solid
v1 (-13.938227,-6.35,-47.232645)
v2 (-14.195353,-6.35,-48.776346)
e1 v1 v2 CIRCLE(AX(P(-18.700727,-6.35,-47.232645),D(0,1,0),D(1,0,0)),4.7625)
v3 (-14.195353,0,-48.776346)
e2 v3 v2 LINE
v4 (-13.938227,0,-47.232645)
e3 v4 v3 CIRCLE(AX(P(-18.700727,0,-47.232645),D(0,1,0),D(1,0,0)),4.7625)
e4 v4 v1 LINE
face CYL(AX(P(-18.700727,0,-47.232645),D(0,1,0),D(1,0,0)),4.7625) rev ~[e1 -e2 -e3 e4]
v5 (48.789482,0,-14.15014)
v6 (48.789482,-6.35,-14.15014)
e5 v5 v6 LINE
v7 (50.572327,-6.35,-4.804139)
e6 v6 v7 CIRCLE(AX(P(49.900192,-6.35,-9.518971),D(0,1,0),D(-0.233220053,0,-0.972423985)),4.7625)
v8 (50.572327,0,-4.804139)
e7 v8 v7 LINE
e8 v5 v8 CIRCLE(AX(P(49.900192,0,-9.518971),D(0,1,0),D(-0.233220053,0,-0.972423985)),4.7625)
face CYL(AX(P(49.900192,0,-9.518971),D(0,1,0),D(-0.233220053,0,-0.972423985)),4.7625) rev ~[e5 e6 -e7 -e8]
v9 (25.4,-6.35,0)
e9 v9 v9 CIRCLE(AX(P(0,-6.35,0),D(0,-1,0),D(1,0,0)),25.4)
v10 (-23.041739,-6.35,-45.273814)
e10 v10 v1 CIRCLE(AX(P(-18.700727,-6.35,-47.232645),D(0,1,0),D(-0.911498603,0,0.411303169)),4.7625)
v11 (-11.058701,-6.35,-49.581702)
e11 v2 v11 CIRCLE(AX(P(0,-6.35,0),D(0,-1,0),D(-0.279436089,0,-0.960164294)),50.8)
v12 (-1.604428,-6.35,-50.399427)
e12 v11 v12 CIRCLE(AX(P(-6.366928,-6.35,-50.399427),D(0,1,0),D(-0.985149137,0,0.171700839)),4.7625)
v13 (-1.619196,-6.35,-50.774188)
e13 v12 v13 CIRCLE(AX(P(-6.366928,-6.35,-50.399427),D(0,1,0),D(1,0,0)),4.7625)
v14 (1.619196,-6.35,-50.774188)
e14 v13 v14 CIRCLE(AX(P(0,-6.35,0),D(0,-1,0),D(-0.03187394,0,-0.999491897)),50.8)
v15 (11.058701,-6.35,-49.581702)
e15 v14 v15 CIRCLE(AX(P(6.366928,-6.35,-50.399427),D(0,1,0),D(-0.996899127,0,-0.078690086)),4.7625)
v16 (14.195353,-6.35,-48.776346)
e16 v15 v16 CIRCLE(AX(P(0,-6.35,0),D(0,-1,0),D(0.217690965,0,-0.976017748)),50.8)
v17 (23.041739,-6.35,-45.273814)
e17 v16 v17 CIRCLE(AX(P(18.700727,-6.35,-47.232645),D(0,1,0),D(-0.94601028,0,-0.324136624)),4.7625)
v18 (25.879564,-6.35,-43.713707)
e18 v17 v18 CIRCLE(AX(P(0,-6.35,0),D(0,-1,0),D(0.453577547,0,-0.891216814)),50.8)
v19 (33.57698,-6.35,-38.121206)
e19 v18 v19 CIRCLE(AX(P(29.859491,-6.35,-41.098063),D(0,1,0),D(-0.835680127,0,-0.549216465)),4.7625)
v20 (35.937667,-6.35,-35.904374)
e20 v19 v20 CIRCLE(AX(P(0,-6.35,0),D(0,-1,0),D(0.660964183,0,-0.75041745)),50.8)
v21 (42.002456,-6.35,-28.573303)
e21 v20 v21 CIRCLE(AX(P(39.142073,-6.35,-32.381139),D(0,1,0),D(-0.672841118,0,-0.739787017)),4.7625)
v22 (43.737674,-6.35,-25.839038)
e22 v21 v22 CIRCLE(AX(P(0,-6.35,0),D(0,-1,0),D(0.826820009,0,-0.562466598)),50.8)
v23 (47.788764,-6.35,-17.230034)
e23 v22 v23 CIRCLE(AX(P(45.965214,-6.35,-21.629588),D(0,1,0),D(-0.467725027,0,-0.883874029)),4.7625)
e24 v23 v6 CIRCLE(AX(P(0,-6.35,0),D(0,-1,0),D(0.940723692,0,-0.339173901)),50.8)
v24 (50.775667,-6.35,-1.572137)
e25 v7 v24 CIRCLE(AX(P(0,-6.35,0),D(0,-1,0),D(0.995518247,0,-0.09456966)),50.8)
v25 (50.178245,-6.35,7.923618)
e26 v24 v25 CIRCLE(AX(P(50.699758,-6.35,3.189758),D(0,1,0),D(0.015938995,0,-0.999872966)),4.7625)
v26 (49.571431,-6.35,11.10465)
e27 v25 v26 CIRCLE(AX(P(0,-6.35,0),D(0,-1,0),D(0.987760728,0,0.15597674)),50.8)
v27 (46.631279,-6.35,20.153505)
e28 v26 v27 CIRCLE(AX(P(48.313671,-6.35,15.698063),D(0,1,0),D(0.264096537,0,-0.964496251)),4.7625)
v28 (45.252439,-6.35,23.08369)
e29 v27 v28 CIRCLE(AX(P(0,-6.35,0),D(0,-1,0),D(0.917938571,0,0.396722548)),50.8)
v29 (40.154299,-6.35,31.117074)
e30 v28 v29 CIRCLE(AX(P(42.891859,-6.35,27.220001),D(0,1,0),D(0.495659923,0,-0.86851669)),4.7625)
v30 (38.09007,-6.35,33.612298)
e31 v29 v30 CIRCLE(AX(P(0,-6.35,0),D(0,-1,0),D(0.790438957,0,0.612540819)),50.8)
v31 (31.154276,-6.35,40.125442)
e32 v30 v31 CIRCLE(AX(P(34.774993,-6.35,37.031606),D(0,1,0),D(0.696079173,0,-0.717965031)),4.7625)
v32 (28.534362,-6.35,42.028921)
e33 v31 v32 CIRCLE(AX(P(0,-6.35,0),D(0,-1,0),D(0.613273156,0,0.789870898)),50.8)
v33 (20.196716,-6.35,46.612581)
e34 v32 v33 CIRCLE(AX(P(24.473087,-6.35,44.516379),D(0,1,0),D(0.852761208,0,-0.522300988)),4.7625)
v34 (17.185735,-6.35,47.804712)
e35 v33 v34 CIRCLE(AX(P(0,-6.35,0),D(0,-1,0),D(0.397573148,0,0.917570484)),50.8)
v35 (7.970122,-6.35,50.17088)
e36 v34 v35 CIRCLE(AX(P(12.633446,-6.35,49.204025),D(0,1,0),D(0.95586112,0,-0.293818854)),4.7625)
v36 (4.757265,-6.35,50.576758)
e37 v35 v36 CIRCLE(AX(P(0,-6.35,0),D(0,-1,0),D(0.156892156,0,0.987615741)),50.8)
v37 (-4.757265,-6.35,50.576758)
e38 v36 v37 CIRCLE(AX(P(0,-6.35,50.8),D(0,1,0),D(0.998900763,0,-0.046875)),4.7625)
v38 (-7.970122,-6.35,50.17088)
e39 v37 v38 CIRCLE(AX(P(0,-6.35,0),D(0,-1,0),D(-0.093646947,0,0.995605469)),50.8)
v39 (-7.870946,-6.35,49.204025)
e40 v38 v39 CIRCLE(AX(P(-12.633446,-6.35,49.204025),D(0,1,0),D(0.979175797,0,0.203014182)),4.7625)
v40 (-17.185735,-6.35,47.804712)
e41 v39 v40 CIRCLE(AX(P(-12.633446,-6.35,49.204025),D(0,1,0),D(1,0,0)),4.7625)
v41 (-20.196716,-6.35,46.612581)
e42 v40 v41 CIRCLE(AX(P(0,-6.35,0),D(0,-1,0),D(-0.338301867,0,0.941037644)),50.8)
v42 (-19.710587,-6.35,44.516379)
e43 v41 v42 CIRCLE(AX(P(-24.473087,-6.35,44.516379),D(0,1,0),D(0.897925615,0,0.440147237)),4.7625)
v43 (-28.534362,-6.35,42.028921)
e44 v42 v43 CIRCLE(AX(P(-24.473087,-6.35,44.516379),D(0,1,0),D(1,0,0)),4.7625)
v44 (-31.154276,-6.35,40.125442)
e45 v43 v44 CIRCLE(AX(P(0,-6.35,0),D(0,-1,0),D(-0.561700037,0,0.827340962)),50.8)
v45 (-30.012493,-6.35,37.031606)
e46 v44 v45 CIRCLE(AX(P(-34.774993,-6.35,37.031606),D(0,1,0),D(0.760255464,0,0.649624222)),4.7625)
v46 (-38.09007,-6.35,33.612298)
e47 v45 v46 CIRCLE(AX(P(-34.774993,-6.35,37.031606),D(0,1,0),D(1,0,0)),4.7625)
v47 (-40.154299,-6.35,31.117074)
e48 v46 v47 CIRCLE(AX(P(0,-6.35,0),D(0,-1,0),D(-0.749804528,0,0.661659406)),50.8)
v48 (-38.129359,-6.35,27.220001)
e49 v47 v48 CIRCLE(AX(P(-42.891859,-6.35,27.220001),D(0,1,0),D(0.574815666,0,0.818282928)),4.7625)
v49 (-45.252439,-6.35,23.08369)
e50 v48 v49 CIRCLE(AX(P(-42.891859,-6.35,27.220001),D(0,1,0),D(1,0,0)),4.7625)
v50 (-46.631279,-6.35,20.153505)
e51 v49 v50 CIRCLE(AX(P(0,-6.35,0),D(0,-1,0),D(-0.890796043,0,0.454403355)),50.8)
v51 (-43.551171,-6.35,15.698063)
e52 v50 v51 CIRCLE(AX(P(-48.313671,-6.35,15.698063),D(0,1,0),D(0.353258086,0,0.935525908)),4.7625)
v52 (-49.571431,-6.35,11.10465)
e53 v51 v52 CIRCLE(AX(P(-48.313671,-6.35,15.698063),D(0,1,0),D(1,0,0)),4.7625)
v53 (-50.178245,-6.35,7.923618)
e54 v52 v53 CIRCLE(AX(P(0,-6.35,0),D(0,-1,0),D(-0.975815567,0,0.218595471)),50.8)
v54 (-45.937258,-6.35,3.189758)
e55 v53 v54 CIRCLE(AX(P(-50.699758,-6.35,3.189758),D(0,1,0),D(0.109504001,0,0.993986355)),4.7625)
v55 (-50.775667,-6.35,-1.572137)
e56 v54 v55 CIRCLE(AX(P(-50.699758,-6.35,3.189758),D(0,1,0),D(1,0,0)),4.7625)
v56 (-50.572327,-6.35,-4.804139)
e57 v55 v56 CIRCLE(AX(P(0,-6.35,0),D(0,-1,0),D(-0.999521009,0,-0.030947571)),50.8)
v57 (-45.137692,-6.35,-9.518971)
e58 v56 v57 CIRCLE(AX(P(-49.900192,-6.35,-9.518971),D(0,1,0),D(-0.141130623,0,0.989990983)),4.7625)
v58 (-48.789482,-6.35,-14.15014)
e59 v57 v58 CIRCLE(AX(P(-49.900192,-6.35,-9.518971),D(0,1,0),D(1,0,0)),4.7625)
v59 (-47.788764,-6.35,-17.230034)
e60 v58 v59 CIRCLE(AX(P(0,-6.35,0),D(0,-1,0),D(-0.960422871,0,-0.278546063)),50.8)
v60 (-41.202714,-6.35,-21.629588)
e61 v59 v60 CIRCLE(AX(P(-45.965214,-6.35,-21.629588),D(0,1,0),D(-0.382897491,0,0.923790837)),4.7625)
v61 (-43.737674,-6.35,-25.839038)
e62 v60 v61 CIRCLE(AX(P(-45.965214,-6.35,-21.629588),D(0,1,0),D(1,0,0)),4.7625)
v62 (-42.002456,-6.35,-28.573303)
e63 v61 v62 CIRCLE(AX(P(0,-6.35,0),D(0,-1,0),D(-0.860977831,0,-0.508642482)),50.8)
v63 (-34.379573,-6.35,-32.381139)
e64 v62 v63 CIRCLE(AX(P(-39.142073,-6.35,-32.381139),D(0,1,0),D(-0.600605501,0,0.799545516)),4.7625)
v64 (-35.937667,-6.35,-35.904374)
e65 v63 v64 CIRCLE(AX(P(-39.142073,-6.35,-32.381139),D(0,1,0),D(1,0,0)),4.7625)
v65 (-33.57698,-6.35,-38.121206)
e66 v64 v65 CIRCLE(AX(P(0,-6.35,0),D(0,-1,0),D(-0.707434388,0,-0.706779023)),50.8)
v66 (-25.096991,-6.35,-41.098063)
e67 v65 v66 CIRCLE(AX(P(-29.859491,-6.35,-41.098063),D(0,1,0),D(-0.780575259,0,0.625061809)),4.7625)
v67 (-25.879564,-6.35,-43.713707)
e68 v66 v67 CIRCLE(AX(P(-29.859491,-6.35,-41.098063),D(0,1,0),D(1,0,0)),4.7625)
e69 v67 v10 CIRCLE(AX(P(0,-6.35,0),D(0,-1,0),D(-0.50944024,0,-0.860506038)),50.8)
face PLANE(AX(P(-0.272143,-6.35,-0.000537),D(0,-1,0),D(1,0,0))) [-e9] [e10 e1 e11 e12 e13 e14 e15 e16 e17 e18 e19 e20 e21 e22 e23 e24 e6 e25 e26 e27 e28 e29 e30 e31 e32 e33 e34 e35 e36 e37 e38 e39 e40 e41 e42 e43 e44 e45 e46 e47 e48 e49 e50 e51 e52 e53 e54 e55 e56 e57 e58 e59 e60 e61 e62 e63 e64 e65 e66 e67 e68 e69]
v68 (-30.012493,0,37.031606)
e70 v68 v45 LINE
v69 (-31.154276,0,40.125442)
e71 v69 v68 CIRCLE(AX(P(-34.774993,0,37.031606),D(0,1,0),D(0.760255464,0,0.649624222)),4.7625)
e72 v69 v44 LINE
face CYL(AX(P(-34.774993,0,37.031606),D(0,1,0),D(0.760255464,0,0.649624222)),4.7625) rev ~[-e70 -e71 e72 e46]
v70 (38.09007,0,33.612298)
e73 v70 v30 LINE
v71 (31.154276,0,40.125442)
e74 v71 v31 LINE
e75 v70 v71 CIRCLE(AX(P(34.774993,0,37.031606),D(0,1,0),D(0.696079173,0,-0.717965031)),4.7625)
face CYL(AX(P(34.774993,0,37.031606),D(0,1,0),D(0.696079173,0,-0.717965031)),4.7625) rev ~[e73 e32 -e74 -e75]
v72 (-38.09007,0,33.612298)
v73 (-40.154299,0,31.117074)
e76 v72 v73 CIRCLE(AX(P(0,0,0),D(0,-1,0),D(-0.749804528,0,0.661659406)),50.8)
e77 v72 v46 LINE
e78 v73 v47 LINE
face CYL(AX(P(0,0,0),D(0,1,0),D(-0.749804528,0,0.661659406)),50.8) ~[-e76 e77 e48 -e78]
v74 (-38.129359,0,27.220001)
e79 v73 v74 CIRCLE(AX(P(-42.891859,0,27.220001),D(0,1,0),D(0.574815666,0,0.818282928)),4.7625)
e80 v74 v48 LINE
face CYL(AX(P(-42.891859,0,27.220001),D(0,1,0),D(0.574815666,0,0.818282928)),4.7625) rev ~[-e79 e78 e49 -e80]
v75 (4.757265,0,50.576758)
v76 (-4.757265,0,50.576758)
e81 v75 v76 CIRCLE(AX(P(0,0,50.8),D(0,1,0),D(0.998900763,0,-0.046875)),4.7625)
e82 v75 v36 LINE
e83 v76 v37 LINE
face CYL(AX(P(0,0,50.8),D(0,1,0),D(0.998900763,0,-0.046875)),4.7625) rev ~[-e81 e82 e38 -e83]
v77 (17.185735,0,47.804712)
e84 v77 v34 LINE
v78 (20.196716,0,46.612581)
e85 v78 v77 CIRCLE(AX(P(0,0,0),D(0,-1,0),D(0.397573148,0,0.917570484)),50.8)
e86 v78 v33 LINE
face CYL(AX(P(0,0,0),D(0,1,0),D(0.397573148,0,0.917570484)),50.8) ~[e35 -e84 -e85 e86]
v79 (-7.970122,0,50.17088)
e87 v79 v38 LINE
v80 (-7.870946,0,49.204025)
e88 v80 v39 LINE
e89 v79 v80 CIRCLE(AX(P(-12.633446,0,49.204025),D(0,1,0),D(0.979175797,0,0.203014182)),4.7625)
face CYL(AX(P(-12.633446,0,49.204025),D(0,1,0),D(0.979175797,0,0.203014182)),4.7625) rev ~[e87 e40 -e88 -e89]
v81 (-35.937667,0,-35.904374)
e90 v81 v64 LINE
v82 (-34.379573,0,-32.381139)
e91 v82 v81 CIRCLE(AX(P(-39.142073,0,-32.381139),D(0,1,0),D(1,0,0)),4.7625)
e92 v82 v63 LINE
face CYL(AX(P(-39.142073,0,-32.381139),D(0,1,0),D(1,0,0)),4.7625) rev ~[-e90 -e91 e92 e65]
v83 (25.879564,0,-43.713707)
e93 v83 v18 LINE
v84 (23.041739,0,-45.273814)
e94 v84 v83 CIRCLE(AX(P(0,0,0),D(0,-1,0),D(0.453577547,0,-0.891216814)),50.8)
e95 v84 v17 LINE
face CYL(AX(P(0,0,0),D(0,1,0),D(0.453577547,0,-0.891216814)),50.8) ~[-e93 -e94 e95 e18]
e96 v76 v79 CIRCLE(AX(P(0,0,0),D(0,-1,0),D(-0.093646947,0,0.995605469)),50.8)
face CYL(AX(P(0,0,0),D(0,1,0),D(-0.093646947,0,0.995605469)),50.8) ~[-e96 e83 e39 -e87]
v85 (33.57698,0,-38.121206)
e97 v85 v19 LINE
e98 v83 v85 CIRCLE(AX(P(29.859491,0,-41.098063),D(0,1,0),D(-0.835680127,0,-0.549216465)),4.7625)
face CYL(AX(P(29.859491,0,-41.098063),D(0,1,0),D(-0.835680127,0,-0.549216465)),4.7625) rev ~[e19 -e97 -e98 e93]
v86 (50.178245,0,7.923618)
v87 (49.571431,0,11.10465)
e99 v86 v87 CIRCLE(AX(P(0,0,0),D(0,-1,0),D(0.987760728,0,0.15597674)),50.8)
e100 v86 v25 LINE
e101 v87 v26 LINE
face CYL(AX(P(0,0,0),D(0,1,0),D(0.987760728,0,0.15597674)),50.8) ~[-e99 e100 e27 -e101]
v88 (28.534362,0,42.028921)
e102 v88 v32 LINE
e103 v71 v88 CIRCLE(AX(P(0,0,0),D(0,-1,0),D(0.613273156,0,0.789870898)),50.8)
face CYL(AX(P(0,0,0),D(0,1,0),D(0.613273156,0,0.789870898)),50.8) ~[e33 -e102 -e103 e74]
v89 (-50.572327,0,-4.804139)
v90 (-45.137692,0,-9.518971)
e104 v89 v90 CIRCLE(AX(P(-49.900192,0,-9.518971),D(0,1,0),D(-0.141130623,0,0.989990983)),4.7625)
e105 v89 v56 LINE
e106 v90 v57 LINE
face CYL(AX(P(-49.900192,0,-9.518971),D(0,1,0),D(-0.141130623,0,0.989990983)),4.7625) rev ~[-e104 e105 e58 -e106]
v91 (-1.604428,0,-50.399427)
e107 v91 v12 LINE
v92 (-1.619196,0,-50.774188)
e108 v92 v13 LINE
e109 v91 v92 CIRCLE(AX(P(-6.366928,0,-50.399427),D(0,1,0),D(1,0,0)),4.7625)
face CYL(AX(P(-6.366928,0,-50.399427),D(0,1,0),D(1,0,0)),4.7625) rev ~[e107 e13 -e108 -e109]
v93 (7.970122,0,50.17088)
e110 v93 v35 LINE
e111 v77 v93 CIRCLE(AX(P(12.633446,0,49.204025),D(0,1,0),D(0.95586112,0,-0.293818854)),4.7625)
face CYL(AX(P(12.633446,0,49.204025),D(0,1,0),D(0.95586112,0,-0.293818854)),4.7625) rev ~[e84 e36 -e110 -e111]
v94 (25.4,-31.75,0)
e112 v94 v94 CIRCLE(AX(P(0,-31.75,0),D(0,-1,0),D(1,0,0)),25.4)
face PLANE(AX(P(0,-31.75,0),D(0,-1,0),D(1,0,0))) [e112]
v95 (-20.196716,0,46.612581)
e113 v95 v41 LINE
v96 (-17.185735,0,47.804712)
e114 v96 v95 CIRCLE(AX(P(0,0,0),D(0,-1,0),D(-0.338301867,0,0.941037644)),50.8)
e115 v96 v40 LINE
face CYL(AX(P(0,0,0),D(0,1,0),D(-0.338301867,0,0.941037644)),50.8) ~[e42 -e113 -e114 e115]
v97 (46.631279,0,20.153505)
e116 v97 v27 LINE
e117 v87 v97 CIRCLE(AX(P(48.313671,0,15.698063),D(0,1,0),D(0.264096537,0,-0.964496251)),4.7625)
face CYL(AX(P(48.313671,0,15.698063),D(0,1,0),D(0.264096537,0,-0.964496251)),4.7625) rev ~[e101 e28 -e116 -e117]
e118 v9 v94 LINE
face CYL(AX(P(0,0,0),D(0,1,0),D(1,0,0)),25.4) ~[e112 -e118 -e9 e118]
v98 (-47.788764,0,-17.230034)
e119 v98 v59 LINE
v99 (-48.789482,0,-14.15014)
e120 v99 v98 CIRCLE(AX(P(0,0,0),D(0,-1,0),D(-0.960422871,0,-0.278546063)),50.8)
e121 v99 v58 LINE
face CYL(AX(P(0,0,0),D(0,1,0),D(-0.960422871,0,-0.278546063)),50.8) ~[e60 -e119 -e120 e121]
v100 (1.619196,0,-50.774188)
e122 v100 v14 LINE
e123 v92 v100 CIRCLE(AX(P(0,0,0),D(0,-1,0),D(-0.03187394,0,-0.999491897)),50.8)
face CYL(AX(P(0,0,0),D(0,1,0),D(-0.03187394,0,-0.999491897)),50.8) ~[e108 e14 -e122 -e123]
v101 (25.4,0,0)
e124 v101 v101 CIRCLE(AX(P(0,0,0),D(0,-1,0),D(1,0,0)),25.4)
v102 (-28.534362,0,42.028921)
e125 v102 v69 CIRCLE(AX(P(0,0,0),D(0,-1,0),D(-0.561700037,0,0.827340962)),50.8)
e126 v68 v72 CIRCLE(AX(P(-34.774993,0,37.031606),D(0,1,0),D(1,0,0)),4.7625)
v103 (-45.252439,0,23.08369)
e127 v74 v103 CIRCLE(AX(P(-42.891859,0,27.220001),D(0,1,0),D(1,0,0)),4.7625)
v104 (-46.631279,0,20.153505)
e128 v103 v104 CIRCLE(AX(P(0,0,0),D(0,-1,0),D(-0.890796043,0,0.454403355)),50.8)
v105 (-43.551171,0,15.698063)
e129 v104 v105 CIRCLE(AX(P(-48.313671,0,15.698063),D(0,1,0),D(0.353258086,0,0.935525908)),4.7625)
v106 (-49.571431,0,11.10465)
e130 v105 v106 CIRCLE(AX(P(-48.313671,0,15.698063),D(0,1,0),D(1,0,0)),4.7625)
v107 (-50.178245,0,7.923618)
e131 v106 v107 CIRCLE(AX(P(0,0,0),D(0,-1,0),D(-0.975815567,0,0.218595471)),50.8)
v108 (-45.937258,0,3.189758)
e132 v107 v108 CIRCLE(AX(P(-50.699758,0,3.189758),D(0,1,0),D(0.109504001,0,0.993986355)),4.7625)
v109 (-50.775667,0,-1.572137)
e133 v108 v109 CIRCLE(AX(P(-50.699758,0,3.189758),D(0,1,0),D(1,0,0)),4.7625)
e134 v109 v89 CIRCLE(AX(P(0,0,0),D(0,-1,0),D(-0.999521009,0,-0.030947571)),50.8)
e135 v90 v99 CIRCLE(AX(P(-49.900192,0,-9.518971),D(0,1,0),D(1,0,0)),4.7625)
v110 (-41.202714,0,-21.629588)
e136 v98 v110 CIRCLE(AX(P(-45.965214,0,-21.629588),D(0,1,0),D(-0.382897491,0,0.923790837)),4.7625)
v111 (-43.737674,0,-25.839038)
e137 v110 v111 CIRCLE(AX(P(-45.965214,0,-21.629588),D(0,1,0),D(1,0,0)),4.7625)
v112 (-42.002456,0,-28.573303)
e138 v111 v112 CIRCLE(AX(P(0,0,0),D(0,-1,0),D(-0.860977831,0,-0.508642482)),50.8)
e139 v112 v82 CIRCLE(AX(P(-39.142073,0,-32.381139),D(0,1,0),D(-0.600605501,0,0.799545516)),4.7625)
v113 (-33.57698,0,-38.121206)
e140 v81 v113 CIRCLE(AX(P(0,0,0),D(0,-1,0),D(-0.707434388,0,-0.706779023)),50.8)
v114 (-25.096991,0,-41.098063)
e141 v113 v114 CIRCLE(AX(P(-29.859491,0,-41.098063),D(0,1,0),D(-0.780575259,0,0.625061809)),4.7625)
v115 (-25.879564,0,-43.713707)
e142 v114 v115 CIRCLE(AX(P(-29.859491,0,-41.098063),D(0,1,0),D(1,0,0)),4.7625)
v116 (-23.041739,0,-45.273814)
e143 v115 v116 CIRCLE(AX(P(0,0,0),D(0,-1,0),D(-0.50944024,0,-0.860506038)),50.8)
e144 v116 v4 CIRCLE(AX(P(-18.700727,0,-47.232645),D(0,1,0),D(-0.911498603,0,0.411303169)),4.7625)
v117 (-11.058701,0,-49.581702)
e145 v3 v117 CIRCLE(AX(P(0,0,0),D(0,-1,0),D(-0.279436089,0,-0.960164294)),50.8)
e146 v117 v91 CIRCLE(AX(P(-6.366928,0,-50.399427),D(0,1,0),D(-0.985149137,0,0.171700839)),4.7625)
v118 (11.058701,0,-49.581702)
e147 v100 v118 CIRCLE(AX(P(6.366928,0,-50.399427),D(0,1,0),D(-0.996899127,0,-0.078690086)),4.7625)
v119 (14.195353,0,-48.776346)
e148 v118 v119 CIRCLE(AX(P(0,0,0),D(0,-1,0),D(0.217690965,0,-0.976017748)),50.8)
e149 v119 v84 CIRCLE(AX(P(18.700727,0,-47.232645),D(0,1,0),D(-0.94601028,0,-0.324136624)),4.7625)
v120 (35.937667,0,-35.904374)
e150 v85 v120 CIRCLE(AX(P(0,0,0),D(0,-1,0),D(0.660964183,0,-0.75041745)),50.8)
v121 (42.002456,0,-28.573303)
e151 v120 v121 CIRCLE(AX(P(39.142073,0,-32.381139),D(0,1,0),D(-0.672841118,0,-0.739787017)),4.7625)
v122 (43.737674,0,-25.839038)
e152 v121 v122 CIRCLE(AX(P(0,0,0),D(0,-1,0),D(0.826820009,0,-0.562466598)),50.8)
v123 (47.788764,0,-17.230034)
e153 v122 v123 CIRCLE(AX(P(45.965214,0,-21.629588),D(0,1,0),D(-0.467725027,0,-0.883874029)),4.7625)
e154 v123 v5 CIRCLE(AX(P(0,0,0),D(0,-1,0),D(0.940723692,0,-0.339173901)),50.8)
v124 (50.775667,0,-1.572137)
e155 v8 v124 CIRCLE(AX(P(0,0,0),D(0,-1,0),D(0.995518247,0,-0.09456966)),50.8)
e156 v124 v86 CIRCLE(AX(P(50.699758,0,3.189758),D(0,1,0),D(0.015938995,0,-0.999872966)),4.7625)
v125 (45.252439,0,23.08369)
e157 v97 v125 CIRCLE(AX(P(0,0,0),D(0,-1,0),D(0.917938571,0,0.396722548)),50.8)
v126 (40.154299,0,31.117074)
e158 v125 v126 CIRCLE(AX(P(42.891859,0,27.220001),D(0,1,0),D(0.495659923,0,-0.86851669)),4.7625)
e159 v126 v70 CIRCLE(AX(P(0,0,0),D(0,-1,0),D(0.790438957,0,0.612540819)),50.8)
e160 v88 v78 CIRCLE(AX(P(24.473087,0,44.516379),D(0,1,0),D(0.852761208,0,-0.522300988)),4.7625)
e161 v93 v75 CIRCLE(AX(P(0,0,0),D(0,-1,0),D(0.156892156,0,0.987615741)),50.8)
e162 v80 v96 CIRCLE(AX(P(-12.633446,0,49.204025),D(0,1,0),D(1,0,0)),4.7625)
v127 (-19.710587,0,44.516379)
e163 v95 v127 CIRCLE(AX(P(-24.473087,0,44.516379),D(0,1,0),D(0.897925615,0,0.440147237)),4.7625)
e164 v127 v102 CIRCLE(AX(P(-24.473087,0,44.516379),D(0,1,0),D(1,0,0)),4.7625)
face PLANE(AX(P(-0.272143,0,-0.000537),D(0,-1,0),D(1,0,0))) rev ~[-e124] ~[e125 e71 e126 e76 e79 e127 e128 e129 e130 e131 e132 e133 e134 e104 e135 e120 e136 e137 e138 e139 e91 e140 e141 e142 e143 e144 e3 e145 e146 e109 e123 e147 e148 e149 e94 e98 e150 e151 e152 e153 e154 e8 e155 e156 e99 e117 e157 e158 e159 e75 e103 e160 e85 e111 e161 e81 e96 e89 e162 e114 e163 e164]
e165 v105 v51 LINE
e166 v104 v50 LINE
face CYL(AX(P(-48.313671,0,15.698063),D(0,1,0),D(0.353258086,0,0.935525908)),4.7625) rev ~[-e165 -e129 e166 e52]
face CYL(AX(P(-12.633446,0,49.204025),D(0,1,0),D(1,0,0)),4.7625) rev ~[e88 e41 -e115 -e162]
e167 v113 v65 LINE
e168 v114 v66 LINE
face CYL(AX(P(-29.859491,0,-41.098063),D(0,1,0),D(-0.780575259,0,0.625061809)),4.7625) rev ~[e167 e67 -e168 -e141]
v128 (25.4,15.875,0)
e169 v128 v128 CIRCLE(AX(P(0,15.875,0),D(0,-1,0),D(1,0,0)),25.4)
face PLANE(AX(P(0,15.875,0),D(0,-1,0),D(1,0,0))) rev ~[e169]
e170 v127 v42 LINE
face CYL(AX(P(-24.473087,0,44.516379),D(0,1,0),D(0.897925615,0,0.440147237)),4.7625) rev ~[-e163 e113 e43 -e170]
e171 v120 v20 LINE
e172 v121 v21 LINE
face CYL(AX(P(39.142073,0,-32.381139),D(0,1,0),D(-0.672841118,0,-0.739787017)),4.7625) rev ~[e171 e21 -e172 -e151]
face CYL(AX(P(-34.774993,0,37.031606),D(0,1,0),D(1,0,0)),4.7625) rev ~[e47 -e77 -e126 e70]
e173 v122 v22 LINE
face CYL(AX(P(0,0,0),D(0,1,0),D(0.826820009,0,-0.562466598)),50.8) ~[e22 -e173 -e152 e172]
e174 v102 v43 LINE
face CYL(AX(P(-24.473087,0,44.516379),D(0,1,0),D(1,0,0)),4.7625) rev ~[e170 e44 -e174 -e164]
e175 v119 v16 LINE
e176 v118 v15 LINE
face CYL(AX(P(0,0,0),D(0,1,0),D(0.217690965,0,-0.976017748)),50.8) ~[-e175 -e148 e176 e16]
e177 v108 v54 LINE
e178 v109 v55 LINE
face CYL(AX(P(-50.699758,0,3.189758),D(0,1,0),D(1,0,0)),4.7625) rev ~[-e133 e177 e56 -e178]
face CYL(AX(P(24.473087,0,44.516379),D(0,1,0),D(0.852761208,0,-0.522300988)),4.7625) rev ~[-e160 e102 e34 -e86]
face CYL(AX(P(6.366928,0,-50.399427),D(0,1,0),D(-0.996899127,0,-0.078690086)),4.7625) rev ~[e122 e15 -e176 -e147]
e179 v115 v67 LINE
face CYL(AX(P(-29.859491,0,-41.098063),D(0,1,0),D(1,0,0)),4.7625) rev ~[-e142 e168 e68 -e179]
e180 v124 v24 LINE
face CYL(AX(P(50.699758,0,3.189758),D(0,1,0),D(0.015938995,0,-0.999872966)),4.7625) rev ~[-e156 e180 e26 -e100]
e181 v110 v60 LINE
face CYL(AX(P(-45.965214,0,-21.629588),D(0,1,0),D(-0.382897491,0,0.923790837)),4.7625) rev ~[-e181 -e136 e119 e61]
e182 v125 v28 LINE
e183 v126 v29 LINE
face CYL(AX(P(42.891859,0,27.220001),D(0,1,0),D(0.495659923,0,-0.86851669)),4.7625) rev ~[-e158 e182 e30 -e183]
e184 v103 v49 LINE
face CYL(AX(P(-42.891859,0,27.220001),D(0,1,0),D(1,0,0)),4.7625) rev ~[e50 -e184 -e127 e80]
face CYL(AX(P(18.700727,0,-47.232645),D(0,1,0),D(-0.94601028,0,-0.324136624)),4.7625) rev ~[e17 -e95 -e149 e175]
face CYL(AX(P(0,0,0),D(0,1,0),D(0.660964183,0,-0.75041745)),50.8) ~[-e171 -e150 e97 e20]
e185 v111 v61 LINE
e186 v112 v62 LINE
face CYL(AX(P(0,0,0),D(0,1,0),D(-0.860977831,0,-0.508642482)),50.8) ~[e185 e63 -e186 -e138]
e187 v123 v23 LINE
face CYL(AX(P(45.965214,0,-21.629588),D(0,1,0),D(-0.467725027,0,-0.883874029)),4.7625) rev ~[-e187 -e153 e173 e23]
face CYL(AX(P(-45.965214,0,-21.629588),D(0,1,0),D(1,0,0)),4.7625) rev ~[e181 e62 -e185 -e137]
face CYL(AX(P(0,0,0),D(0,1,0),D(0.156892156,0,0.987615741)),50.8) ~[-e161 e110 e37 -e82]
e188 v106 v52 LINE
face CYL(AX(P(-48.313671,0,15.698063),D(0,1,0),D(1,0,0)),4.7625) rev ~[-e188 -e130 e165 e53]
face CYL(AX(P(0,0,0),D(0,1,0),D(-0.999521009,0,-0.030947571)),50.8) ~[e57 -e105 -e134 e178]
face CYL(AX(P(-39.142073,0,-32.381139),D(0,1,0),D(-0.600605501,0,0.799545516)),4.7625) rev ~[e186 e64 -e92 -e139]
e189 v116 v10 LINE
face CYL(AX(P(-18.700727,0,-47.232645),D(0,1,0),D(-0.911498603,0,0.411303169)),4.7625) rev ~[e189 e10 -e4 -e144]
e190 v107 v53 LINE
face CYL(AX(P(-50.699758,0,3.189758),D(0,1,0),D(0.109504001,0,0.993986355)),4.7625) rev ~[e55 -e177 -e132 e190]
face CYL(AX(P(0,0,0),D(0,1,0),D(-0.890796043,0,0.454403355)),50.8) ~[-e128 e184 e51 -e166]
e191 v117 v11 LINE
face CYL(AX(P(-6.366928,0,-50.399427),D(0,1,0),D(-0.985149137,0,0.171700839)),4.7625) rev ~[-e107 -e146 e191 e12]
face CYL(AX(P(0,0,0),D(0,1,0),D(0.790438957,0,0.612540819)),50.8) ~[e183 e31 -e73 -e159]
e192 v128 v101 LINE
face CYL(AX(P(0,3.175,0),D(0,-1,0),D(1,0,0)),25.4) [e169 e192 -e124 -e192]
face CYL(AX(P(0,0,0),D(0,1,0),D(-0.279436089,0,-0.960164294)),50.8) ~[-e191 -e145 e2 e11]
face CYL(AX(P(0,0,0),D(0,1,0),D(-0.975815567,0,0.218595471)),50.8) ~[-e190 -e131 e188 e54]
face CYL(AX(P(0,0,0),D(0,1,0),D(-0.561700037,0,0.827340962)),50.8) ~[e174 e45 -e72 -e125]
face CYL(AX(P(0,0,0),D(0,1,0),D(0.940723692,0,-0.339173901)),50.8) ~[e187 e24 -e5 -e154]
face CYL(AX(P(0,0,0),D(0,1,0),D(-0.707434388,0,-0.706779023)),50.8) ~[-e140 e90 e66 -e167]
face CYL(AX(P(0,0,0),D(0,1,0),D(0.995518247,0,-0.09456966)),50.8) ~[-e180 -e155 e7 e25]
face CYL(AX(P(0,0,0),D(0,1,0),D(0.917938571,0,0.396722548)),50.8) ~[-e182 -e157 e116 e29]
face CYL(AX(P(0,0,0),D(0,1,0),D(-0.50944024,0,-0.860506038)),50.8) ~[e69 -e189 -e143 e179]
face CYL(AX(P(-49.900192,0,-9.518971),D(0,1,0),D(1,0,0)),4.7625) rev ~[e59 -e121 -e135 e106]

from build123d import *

# Parameters (mm, degrees)
F0_R          = 25.4
F1_DEPTH      = 6.35
F2_DEPTH      = 31.75
F2_DEPTH_BACK = 3.175
F3_DEPTH      = 12.7


with BuildPart() as f1:
    # F0 (on Front) → F1 (new body)
    with BuildSketch(Plane.XZ):
        with BuildLine():
            ThreePointArc((50.7756672677, -1.5721366092), (45.94665551, 2.8907185428), (50.1782450005, 7.9236184075))
            ThreePointArc((50.1782450005, 7.9236184075), (49.900192337, 9.518970781), (49.5714307865, 11.1046499169))
            ThreePointArc((49.5714307865, 11.1046499169), (43.7842643689, 14.2263698785), (46.6312793948, 20.153505452))
            ThreePointArc((46.6312793948, 20.153505452), (45.9652142653, 21.6295880115), (45.2524389981, 23.0836904486))
            ThreePointArc((45.2524389981, 23.0836904486), (38.8707468703, 24.6681260738), (40.1542990068, 31.1170736296))
            ThreePointArc((40.1542990068, 31.1170736296), (39.142072733, 32.3811386792), (38.0900700405, 33.6122978136))
            ThreePointArc((38.0900700405, 33.6122978136), (31.5148373892, 33.5598931849), (31.1542763351, 40.1254416304))
            ThreePointArc((31.1542763351, 40.1254416304), (29.8594908165, 41.0980633142), (28.5343618968, 42.0289208896))
            ThreePointArc((28.5343618968, 42.0289208896), (22.1787347715, 40.3429687825), (20.1967159038, 46.6125805626))
            ThreePointArc((20.1967159038, 46.6125805626), (18.7007272764, 47.2326454831), (17.1857348531, 47.8047122945))
            ThreePointArc((17.1857348531, 47.8047122945), (11.4490606804, 44.5911472805), (7.970121534, 50.1708796289))
            ThreePointArc((7.970121534, 50.1708796289), (6.3669282651, 50.3994268268), (4.7572648839, 50.5767578125))
            ThreePointArc((4.7572648839, 50.5767578125), (0, 46.0375), (-4.7572648839, 50.5767578125))
            ThreePointArc((-4.7572648839, 50.5767578125), (-6.3669282651, 50.3994268268), (-7.970121534, 50.1708796289))
            ThreePointArc((-7.970121534, 50.1708796289), (-7.8958049616, 49.6899886809), (-7.870946268, 49.2040245853))
            ThreePointArc((-7.870946268, 49.2040245853), (-11.9259394259, 44.4943706364), (-17.1857348531, 47.8047122945))
            ThreePointArc((-17.1857348531, 47.8047122945), (-18.7007272764, 47.2326454831), (-20.1967159038, 46.6125805626))
            ThreePointArc((-20.1967159038, 46.6125805626), (-19.8337105062, 45.5922953741), (-19.7105866444, 44.5163793462))
            ThreePointArc((-19.7105866444, 44.5163793462), (-23.1808825467, 39.9325365457), (-28.5343618968, 42.0289208896))
            ThreePointArc((-28.5343618968, 42.0289208896), (-29.8594908165, 41.0980633142), (-31.1542763351, 40.1254416304))
            ThreePointArc((-31.1542763351, 40.1254416304), (-30.3070477444, 38.6805063948), (-30.0124929812, 37.031606273))
            ThreePointArc((-30.0124929812, 37.031606273), (-32.9184704584, 32.6458645601), (-38.0900700405, 33.6122978136))
            ThreePointArc((-38.0900700405, 33.6122978136), (-39.142072733, 32.3811386792), (-40.1542990068, 31.1170736296))
            ThreePointArc((-40.1542990068, 31.1170736296), (-38.6658064456, 29.4158812606), (-38.1293586155, 27.2200011849))
            ThreePointArc((-38.1293586155, 27.2200011849), (-40.5002961369, 23.1015263263), (-45.2524389981, 23.0836904486))
            ThreePointArc((-45.2524389981, 23.0836904486), (-45.9652142653, 21.6295880115), (-46.6312793948, 20.153505452))
            ThreePointArc((-46.6312793948, 20.153505452), (-44.3961592919, 18.4062930033), (-43.5511710278, 15.6980633142))
            ThreePointArc((-43.5511710278, 15.6980633142), (-45.4247849623, 11.9118061187), (-49.5714307865, 11.1046499169))
            ThreePointArc((-49.5714307865, 11.1046499169), (-49.900192337, 9.518970781), (-50.1782450005, 7.9236184075))
            ThreePointArc((-50.1782450005, 7.9236184075), (-47.1525680025, 6.3676272946), (-45.9372578042, 3.1897583921))
            ThreePointArc((-45.9372578042, 3.1897583921), (-47.3591076107, -0.2045696025), (-50.7756672677, -1.5721366092))
            ThreePointArc((-50.7756672677, -1.5721366092), (-50.6997578042, -3.1897583921), (-50.5723269302, -4.8041387226))
            ThreePointArc((-50.5723269302, -4.8041387226), (-46.7792657719, -5.9215795561), (-45.137692337, -9.518970781))
            ThreePointArc((-45.137692337, -9.518970781), (-46.1604620648, -12.4678389946), (-48.7894818346, -14.1501400102))
            ThreePointArc((-48.7894818346, -14.1501400102), (-48.3136710278, -15.6980633142), (-47.7887635668, -17.2300341484))
            ThreePointArc((-47.7887635668, -17.2300341484), (-43.3197698129, -17.6694074728), (-41.2027142653, -21.6295880115))
            ThreePointArc((-41.2027142653, -21.6295880115), (-41.8853816947, -24.0864910308), (-43.7376738227, -25.8390380738))
            ThreePointArc((-43.7376738227, -25.8390380738), (-42.8918586155, -27.2200011849), (-42.0024564338, -28.5733031609))
            ThreePointArc((-42.0024564338, -28.5733031609), (-37.0138306327, -28.1206232395), (-34.379572733, -32.3811386792))
            ThreePointArc((-34.379572733, -32.3811386792), (-34.7864792609, -34.3073296759), (-35.9376669086, -35.9043743458))
            ThreePointArc((-35.9376669086, -35.9043743458), (-34.7749929812, -37.031606273), (-33.5769804888, -38.1212064507))
            ThreePointArc((-33.5769804888, -38.1212064507), (-28.2820147175, -36.604403847), (-25.0969908165, -41.0980633142))
            ThreePointArc((-25.0969908165, -41.0980633142), (-25.2968267537, -42.4631651056), (-25.8795642131, -43.7137067307))
            ThreePointArc((-25.8795642131, -43.7137067307), (-24.4730866444, -44.5163793462), (-23.0417393722, -45.2738141391))
            ThreePointArc((-23.0417393722, -45.2738141391), (-17.6988949192, -42.5767096827), (-13.9382272764, -47.2326454831))
            ThreePointArc((-13.9382272764, -47.2326454831), (-14.0029485609, -48.0151295985), (-14.1953533198, -48.7763461539))
            ThreePointArc((-14.1953533198, -48.7763461539), (-12.633446268, -49.2040245853), (-11.0587010292, -49.5817015798))
            ThreePointArc((-11.0587010292, -49.5817015798), (-5.9565391444, -45.6546415819), (-1.6044282651, -50.3994268268))
            ThreePointArc((-1.6044282651, -50.3994268268), (-1.6081216736, -50.5869530242), (-1.6191961705, -50.7741883614))
            ThreePointArc((-1.6191961705, -50.7741883614), (0, -50.8), (1.6191961705, -50.7741883614))
            ThreePointArc((1.6191961705, -50.7741883614), (5.7700287402, -45.6744805618), (11.0587010292, -49.5817015798))
            ThreePointArc((11.0587010292, -49.5817015798), (12.633446268, -49.2040245853), (14.1953533198, -48.7763461539))
            ThreePointArc((14.1953533198, -48.7763461539), (16.9475340942, -42.8045849691), (23.0417393722, -45.2738141391))
            ThreePointArc((23.0417393722, -45.2738141391), (24.4730866444, -44.5163793462), (25.8795642131, -43.7137067307))
            ThreePointArc((25.8795642131, -43.7137067307), (27.0601635524, -37.2451198785), (33.5769804888, -38.1212064507))
            ThreePointArc((33.5769804888, -38.1212064507), (34.7749929812, -37.031606273), (35.9376669086, -35.9043743458))
            ThreePointArc((35.9376669086, -35.9043743458), (35.4725034143, -29.3454069281), (42.0024564338, -28.5733031609))
            ThreePointArc((42.0024564338, -28.5733031609), (42.8918586155, -27.2200011849), (43.7376738227, -25.8390380738))
            ThreePointArc((43.7376738227, -25.8390380738), (41.6559754279, -19.6018141354), (47.7887635668, -17.2300341484))
            ThreePointArc((47.7887635668, -17.2300341484), (48.3136710278, -15.6980633142), (48.7894818346, -14.1501400102))
            ThreePointArc((48.7894818346, -14.1501400102), (45.2220493054, -8.6265672702), (50.5723269302, -4.8041387226))
            ThreePointArc((50.5723269302, -4.8041387226), (50.6997578042, -3.1897583921), (50.7756672677, -1.5721366092))
        make_face()
        Circle(F0_R, mode=Mode.SUBTRACT)
    extrude(amount=F1_DEPTH)

    # F0 (on Front) → F2 (join, two sides)
    with BuildSketch(Plane.XZ) as f2_sk:
        Circle(F0_R)
    extrude(amount=F2_DEPTH)
    extrude(f2_sk.sketch, amount=-F2_DEPTH_BACK)

    # F3 (add): a face of the model
    f3_faces = [f1.faces().sort_by_distance(p)[0] for p in [
        (0, 3.175, 0),
    ]]
    extrude(f3_faces, amount=F3_DEPTH)


solid = f1.part
